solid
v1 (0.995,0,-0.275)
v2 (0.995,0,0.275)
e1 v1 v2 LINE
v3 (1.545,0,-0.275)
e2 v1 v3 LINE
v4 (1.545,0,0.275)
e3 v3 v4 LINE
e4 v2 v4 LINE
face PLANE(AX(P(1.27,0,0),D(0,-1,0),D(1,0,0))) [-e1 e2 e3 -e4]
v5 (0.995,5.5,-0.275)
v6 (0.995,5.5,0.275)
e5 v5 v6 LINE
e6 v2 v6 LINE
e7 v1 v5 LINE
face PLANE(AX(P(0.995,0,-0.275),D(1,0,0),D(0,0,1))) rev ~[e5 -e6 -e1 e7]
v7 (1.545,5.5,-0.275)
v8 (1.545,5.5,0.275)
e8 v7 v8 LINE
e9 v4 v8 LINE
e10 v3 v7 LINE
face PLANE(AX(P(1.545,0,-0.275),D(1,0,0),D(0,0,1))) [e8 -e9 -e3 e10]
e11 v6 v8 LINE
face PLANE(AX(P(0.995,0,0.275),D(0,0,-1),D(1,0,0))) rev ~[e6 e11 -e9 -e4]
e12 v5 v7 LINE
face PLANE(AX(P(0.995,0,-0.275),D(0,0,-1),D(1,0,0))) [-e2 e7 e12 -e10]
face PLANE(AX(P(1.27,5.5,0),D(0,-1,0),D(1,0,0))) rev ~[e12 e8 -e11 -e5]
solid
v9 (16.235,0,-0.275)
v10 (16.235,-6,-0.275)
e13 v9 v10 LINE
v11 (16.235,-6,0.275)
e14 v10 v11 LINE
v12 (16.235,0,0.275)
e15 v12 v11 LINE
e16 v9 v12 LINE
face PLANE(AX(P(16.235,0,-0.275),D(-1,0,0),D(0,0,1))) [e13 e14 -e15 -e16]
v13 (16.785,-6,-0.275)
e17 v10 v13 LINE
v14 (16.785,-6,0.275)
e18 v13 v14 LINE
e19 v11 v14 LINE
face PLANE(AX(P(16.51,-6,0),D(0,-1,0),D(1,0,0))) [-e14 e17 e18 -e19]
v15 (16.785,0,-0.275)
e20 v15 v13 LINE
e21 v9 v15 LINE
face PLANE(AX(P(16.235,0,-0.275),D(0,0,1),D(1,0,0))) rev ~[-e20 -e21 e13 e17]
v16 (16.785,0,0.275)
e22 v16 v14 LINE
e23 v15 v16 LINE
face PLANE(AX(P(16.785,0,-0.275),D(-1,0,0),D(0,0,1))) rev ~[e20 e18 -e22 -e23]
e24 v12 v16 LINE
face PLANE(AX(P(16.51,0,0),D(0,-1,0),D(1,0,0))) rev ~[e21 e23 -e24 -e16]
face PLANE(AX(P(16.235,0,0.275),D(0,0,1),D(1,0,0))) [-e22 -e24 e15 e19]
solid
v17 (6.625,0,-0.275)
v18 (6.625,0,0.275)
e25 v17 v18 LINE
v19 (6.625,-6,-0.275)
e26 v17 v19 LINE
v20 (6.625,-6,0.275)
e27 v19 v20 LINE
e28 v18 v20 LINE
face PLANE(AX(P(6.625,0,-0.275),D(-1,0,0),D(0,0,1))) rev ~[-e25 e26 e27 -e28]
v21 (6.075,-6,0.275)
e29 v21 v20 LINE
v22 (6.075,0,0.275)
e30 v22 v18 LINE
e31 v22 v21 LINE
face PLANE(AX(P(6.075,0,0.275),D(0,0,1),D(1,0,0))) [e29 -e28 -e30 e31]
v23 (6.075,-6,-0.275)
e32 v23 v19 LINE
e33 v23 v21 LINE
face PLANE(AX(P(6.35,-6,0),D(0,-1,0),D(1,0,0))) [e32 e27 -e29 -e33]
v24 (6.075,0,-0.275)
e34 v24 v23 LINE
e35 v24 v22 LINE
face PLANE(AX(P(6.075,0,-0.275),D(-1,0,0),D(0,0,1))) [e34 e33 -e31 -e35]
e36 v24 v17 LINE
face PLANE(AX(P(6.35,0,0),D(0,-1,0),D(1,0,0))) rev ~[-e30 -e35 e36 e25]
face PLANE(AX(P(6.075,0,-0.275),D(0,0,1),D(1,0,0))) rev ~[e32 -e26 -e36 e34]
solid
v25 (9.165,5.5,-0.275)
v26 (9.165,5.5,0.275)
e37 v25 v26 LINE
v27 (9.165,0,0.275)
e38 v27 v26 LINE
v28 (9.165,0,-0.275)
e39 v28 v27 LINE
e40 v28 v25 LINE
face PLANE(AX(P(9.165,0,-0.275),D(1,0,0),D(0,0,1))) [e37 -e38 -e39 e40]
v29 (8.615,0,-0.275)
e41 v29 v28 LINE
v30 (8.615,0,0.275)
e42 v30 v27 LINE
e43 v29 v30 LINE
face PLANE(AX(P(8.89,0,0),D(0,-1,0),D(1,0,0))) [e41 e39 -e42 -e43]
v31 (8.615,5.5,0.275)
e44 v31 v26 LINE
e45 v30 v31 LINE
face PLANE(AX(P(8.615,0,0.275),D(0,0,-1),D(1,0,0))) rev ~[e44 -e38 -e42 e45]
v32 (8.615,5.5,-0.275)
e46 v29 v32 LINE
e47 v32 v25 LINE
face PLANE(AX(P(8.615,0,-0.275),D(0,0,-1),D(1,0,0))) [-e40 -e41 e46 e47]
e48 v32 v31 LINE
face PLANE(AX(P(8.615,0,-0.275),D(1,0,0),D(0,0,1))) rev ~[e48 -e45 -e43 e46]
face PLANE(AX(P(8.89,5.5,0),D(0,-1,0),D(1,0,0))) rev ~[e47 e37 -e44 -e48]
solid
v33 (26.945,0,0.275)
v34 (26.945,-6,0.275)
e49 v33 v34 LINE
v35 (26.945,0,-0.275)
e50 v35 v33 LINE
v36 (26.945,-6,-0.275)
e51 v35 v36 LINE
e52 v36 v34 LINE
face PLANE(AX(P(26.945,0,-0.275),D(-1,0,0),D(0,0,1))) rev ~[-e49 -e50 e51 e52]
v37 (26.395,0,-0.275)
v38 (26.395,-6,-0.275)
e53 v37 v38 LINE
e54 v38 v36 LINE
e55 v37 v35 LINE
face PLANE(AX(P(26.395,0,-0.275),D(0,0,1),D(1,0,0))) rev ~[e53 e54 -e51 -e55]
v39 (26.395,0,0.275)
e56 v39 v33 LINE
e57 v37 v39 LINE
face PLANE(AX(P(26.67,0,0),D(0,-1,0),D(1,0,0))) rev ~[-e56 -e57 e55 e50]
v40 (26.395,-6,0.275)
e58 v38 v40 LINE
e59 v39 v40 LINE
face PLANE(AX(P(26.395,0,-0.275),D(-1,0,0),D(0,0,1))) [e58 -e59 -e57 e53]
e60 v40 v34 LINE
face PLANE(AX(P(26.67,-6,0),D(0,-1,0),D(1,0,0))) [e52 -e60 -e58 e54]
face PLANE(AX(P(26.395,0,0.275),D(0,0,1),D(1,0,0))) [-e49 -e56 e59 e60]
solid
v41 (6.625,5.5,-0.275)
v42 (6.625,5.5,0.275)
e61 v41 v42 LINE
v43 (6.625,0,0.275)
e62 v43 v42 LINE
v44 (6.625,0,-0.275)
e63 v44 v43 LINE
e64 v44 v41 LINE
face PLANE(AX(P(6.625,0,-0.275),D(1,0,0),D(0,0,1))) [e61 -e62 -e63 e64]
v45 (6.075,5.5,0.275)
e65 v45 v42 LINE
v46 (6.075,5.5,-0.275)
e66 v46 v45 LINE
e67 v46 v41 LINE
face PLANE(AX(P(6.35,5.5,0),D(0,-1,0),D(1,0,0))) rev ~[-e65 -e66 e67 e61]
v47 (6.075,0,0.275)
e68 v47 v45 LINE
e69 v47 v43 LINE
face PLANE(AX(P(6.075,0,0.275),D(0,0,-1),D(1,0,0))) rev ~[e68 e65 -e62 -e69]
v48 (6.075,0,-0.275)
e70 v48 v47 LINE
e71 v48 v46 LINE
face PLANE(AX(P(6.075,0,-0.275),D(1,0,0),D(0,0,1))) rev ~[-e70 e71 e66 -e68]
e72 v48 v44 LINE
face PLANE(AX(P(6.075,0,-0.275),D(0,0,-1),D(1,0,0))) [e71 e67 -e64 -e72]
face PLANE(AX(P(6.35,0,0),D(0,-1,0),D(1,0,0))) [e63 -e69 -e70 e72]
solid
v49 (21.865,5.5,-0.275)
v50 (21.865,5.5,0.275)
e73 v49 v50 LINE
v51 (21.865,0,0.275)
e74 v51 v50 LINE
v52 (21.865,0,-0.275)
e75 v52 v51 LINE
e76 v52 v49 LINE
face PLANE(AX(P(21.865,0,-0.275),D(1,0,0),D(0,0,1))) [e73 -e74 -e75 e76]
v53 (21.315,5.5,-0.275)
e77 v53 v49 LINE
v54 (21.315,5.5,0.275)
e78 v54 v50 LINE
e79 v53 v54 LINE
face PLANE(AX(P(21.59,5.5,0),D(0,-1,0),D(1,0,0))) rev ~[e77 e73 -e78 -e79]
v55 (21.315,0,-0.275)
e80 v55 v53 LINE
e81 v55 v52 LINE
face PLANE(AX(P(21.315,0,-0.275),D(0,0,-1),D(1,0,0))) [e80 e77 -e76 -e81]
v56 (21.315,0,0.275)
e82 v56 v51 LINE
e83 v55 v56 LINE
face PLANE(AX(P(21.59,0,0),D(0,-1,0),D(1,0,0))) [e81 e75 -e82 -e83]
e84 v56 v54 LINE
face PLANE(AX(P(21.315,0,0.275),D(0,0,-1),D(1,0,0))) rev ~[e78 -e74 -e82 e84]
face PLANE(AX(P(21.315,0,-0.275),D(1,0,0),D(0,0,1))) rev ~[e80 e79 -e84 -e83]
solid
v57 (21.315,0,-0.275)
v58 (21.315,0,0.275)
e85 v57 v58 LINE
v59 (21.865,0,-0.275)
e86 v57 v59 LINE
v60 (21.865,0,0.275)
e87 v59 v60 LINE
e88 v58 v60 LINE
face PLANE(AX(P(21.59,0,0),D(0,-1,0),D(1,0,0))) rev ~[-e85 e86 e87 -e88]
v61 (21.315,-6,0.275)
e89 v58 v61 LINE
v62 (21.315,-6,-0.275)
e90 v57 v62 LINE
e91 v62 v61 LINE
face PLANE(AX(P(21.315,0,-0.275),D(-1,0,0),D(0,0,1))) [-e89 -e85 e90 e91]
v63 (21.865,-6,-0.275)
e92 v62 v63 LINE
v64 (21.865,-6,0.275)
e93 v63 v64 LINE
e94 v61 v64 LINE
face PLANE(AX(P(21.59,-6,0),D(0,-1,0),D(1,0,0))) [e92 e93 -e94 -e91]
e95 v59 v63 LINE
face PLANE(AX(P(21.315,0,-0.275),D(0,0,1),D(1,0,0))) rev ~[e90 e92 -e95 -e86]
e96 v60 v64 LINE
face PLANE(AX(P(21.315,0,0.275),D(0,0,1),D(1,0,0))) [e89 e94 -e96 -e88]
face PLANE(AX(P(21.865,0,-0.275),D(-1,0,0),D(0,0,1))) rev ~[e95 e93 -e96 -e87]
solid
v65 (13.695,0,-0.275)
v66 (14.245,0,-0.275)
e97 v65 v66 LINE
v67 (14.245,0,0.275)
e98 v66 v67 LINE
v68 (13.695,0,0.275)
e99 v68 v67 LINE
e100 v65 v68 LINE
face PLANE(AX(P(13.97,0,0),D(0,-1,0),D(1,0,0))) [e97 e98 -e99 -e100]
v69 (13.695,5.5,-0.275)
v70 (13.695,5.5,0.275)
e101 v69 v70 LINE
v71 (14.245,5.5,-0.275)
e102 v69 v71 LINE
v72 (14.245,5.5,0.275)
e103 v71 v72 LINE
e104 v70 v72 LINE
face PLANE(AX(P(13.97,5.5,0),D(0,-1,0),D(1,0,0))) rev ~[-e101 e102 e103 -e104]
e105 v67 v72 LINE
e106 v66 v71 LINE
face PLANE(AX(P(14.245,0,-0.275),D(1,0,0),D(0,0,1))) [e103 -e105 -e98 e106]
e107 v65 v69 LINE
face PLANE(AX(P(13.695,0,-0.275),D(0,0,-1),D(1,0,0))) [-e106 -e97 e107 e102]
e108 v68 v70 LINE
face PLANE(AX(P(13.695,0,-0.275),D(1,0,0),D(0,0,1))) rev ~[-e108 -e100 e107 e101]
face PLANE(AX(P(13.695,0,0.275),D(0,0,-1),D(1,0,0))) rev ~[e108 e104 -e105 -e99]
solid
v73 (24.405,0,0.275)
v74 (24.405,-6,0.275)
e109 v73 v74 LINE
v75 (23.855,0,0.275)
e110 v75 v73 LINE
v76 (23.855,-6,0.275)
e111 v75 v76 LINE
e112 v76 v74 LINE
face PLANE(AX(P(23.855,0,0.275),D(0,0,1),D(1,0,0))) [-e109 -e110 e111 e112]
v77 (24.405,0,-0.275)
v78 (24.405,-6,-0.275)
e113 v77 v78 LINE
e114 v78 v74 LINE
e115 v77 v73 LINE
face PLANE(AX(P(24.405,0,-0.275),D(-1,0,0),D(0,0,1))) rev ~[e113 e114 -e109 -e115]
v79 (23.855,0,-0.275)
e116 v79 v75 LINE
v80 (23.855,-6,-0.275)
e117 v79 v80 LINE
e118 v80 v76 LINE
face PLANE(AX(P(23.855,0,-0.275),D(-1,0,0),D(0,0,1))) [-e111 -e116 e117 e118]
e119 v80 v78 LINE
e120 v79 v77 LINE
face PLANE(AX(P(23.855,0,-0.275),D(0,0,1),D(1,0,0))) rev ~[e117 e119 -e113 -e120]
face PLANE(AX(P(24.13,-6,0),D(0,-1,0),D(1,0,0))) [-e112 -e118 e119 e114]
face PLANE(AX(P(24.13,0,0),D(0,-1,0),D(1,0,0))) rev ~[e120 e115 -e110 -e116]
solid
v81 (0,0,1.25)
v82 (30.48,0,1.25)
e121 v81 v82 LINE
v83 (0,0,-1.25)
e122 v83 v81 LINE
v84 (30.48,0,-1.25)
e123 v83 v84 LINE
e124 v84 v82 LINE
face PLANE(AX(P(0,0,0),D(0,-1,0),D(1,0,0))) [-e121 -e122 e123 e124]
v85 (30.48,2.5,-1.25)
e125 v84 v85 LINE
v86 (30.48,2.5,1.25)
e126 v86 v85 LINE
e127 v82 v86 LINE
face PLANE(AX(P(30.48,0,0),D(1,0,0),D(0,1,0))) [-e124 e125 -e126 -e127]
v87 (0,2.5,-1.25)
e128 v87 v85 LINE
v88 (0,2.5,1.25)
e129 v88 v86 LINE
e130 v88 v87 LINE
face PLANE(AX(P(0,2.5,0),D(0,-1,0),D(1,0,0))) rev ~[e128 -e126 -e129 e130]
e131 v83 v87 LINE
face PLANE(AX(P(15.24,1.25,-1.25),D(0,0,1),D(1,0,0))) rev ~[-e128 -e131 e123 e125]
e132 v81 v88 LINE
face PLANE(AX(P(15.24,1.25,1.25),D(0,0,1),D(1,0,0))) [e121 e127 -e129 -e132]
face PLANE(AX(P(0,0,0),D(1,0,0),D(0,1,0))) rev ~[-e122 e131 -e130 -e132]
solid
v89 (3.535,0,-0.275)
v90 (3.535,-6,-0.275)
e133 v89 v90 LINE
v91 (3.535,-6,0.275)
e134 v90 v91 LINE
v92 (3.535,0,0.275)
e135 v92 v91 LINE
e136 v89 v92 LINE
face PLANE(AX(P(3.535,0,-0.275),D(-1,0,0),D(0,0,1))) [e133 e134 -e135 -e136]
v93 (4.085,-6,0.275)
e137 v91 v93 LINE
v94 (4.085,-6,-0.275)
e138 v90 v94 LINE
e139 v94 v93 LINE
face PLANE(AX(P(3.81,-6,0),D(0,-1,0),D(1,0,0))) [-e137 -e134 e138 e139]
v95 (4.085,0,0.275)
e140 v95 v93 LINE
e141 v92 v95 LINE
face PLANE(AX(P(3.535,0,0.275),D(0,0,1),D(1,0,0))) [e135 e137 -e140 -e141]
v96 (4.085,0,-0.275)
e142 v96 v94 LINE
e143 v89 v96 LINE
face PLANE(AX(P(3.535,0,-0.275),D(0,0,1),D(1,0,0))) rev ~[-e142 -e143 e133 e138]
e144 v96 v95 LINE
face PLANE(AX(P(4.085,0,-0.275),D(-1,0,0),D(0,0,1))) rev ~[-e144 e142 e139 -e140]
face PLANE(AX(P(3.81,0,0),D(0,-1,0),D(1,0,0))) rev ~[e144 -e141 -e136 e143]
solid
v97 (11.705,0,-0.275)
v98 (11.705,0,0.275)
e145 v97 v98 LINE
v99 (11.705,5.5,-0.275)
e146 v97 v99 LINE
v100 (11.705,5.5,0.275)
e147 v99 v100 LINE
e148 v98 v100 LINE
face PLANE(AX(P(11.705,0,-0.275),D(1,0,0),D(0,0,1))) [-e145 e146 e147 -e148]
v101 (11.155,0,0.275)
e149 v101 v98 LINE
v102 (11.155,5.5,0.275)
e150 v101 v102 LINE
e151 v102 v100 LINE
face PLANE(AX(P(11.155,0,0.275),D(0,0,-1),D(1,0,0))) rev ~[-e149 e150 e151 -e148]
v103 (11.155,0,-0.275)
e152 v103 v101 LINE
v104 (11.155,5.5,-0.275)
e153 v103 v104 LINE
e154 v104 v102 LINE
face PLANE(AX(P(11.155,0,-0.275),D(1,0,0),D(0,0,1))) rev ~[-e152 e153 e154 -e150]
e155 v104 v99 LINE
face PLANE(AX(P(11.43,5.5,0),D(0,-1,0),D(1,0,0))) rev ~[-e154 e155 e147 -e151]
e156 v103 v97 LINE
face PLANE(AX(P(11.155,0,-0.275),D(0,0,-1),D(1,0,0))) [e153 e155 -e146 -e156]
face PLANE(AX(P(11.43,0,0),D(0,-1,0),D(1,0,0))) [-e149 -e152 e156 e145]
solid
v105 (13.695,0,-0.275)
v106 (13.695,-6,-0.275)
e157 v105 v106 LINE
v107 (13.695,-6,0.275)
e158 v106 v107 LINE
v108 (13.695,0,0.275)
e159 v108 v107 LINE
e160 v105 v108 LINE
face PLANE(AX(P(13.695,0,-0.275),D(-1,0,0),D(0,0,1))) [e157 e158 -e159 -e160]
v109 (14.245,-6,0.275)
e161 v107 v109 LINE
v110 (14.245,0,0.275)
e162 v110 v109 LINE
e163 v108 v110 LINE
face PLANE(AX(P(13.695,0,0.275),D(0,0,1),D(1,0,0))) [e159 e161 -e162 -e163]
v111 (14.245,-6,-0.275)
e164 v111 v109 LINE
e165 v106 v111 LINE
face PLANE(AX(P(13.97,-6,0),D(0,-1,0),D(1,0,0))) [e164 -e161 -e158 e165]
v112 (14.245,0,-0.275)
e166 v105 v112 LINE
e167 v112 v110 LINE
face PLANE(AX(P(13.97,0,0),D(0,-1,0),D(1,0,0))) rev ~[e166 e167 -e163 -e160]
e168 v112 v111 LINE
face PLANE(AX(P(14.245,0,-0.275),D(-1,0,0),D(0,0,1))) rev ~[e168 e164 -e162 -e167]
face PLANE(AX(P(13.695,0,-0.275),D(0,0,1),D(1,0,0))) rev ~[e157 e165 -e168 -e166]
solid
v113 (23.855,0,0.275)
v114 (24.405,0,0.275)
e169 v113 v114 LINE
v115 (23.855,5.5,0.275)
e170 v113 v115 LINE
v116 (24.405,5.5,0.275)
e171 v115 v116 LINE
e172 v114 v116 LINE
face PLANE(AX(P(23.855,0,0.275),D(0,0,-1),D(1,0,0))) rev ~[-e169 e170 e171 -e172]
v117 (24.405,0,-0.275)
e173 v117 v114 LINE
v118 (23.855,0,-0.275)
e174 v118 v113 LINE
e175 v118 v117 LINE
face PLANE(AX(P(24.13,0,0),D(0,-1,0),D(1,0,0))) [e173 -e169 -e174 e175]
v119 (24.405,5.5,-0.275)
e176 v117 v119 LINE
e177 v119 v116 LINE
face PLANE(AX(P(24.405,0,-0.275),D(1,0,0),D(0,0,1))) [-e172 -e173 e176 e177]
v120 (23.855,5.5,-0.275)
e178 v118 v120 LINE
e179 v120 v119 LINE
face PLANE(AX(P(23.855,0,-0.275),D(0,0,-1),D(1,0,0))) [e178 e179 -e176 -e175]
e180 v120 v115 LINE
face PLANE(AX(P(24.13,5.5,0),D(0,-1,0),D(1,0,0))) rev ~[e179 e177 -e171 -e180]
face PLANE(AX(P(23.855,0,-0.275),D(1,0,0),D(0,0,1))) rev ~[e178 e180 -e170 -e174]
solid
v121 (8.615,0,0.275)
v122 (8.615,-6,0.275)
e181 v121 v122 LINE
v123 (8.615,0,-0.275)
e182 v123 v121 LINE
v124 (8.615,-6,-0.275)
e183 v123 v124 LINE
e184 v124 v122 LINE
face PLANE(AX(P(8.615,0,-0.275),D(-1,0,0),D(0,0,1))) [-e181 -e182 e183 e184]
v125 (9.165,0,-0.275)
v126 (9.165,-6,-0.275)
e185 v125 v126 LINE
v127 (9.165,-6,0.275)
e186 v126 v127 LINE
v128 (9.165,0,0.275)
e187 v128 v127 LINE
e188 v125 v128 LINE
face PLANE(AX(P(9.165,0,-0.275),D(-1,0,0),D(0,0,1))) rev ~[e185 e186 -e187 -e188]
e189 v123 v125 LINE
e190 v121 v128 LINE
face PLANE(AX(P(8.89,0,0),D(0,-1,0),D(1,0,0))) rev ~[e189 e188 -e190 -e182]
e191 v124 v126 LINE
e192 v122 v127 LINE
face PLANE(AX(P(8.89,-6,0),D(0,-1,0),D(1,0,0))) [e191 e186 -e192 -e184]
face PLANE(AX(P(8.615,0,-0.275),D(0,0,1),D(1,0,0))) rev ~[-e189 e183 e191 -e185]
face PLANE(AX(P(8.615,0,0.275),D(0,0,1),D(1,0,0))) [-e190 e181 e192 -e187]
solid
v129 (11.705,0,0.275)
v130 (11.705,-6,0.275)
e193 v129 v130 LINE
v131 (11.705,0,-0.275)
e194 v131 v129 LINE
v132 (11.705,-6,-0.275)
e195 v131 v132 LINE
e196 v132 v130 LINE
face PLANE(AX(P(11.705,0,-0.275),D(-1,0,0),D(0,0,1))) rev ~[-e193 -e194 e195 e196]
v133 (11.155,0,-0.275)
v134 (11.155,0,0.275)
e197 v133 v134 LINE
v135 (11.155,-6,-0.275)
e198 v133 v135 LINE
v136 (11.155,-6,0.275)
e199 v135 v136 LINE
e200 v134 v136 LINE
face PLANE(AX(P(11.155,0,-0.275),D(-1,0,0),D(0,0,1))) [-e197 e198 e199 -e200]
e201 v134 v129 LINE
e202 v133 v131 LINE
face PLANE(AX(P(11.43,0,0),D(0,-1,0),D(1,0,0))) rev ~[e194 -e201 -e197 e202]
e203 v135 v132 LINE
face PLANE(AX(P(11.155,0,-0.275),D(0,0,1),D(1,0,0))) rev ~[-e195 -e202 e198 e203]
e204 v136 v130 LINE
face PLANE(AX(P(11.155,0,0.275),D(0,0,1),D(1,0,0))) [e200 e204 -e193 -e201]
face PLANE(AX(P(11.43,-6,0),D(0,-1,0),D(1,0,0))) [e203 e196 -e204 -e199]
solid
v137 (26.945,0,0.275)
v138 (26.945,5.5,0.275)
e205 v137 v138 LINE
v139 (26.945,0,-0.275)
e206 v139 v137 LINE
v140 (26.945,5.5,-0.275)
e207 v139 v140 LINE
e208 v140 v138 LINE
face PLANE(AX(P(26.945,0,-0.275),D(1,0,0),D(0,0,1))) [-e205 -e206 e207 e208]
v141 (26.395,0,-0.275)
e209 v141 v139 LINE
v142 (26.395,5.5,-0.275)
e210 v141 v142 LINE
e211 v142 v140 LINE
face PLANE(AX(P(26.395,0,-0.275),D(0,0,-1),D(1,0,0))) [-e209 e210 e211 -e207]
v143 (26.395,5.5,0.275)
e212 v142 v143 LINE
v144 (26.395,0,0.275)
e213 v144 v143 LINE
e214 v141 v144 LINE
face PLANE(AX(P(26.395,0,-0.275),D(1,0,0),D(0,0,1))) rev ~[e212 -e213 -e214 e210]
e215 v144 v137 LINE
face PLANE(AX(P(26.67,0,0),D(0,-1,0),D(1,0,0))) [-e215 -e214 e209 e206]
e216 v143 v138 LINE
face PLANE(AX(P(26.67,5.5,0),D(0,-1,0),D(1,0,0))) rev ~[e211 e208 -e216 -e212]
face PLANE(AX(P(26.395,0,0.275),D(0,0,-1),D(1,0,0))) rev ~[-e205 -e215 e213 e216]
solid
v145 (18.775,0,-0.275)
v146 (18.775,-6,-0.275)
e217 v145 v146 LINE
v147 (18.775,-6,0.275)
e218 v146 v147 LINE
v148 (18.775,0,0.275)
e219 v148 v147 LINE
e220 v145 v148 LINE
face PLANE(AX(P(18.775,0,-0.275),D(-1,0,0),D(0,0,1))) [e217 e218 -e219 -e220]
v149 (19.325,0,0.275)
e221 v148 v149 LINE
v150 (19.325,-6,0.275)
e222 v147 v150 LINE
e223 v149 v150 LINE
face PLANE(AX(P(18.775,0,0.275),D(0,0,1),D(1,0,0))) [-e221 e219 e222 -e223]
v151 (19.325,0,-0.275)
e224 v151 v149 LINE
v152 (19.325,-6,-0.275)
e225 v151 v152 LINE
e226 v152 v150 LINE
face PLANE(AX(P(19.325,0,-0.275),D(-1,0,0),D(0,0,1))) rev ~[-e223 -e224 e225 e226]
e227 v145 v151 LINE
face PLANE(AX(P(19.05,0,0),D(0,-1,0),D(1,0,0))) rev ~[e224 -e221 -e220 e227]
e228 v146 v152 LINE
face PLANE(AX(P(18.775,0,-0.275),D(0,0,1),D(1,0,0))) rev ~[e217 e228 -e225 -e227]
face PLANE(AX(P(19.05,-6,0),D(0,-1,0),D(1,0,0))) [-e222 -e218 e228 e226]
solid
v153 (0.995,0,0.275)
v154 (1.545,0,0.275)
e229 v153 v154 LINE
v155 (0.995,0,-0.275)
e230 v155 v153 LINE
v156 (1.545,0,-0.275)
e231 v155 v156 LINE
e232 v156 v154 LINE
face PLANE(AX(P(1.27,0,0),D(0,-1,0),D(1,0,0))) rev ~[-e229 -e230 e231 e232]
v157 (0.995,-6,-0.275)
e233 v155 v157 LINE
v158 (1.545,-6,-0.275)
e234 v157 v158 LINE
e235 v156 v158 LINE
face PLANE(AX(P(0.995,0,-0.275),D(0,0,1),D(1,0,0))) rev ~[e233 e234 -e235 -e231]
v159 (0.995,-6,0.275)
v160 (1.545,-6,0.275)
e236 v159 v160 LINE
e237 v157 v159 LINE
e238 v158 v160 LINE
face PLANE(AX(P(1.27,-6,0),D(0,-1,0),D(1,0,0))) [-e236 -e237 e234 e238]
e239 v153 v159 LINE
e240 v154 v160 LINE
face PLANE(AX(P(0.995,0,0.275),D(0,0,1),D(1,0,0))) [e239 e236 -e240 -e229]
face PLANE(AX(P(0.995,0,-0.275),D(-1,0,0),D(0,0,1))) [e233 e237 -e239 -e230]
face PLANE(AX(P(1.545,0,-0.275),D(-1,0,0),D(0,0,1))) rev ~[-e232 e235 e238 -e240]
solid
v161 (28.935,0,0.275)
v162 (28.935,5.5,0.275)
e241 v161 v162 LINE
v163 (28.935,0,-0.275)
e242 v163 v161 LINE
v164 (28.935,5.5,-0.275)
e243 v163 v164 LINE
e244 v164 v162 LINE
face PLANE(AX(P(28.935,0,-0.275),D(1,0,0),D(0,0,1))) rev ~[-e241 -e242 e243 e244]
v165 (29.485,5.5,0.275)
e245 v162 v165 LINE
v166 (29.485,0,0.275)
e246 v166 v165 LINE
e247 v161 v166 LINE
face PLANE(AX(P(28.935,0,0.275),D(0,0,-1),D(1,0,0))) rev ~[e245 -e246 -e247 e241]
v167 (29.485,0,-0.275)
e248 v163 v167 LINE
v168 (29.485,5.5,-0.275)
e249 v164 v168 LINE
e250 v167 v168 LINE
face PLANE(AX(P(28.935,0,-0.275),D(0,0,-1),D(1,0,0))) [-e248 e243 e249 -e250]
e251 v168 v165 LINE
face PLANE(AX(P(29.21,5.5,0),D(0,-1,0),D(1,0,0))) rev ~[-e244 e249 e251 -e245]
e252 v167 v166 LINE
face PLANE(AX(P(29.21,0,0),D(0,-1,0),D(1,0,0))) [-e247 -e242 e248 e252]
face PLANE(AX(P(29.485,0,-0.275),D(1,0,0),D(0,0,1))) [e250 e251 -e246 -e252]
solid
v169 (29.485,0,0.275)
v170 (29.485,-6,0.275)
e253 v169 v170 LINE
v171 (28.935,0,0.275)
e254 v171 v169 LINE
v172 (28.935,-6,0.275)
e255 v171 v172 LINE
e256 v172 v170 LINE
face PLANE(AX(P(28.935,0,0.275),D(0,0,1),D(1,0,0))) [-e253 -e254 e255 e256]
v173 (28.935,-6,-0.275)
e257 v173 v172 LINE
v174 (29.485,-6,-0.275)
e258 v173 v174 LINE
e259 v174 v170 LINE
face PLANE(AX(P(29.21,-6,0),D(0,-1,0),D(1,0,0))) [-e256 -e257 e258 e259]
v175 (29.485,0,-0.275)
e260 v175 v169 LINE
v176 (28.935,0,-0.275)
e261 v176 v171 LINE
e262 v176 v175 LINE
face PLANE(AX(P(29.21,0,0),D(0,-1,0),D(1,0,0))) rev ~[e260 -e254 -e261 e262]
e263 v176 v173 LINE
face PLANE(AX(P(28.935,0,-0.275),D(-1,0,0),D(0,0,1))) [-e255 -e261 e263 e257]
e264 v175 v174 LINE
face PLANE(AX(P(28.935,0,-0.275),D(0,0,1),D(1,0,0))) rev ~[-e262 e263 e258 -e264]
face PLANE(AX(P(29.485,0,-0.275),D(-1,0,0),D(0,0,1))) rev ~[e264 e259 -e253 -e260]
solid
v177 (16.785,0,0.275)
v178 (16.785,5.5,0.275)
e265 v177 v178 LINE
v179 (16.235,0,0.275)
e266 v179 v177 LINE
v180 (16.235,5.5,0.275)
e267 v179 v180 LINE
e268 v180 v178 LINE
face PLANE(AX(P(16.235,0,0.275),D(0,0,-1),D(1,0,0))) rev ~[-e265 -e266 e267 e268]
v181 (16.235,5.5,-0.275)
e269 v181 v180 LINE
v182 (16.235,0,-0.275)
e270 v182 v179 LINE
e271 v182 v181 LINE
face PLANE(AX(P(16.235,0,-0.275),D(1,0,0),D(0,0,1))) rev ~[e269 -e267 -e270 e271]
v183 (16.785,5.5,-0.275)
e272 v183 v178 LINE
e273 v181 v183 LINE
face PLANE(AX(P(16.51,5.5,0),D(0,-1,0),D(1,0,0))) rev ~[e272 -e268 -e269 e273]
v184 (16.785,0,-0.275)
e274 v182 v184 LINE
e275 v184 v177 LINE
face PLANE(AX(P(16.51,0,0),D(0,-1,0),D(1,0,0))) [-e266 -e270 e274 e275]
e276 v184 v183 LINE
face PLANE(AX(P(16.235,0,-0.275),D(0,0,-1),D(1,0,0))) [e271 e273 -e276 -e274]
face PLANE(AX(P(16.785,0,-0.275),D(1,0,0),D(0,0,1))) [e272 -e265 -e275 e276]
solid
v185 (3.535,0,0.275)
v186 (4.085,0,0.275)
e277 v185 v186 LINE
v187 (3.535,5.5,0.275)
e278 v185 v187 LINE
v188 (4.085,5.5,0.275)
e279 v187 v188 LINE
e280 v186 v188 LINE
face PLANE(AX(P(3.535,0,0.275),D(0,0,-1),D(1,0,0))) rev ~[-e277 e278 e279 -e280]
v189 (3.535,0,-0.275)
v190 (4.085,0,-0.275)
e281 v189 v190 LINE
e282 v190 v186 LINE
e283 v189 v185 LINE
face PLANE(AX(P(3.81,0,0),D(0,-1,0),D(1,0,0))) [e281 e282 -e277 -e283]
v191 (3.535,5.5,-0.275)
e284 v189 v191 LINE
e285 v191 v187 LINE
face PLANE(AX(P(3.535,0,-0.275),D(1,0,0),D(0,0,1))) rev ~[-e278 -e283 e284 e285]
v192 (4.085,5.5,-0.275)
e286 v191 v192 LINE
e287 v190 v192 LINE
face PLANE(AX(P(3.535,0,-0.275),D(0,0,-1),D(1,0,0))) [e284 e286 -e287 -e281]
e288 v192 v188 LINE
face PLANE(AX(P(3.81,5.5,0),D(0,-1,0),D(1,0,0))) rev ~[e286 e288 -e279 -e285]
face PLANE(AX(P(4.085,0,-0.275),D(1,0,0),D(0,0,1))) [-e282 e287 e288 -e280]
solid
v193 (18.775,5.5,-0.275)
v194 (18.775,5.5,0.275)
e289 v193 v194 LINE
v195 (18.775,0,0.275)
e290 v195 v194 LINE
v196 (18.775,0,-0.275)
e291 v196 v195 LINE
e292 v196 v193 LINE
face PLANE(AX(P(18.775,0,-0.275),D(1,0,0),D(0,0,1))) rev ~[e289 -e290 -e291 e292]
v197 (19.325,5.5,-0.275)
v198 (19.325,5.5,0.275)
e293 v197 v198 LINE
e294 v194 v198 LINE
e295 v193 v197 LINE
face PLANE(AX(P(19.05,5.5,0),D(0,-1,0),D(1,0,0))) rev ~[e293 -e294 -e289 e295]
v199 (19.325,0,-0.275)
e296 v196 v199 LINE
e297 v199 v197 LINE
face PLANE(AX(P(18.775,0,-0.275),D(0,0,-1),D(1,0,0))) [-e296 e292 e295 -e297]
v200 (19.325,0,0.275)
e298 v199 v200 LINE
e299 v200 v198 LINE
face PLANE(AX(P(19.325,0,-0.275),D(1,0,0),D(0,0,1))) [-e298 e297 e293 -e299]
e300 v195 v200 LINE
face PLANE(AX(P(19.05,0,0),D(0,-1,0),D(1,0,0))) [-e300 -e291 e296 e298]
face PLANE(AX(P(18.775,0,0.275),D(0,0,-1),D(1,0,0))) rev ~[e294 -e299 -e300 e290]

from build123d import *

# Parameters (mm, degrees)
SKETCH1_W              = 30.48
SKETCH1_H              = 2.5
BOSS_EXTRUDE1_DEPTH    = 1.25
SKETCH2_W              = 0.55
SKETCH2_H              = 0.55
BOSS_EXTRUDE2_DEPTH    = 6
BOSS_EXTRUDE2_2_DEPTH  = 6
BOSS_EXTRUDE2_3_DEPTH  = 6
BOSS_EXTRUDE2_4_DEPTH  = 6
BOSS_EXTRUDE2_5_DEPTH  = 6
BOSS_EXTRUDE2_6_DEPTH  = 6
BOSS_EXTRUDE2_7_DEPTH  = 6
BOSS_EXTRUDE2_8_DEPTH  = 6
BOSS_EXTRUDE2_9_DEPTH  = 6
BOSS_EXTRUDE2_10_DEPTH = 6
BOSS_EXTRUDE2_11_DEPTH = 6
BOSS_EXTRUDE2_12_DEPTH = 6
SKETCH2_2_W            = 0.55
SKETCH2_2_H            = 0.55
BOSS_EXTRUDE3_DEPTH    = 5.5
BOSS_EXTRUDE3_2_DEPTH  = 5.5
BOSS_EXTRUDE3_3_DEPTH  = 5.5
BOSS_EXTRUDE3_4_DEPTH  = 5.5
BOSS_EXTRUDE3_5_DEPTH  = 5.5
BOSS_EXTRUDE3_6_DEPTH  = 5.5
BOSS_EXTRUDE3_7_DEPTH  = 5.5
BOSS_EXTRUDE3_8_DEPTH  = 5.5
BOSS_EXTRUDE3_9_DEPTH  = 5.5
BOSS_EXTRUDE3_10_DEPTH = 5.5
BOSS_EXTRUDE3_11_DEPTH = 5.5
BOSS_EXTRUDE3_12_DEPTH = 5.5


with BuildPart() as part:
    # Sketch1 → Boss-Extrude1 (new body, symmetric)
    with BuildSketch(Plane.XY):
        with Locations((15.24, 1.25)):
            Rectangle(SKETCH1_W, SKETCH1_H)
    extrude(amount=BOSS_EXTRUDE1_DEPTH, both=True)


with BuildPart() as body_2:
    # Sketch2 → Boss-Extrude2 (new body)
    with BuildSketch(Plane.XZ):
        with Locations((3.81, 0)):
            Rectangle(SKETCH2_W, SKETCH2_H)
    extrude(amount=BOSS_EXTRUDE2_DEPTH)


with BuildPart() as body_3:
    # Sketch2 → Boss-Extrude2 2 (new body)
    with BuildSketch(Plane.XZ):
        with Locations((1.27, 0)):
            Rectangle(SKETCH2_W, SKETCH2_H)
    extrude(amount=BOSS_EXTRUDE2_2_DEPTH)


with BuildPart() as body_4:
    # Sketch2 → Boss-Extrude2 3 (new body)
    with BuildSketch(Plane.XZ):
        with Locations((6.35, 0)):
            Rectangle(SKETCH2_W, SKETCH2_H)
    extrude(amount=BOSS_EXTRUDE2_3_DEPTH)


with BuildPart() as body_5:
    # Sketch2 → Boss-Extrude2 4 (new body)
    with BuildSketch(Plane.XZ):
        with Locations((8.89, 0)):
            Rectangle(SKETCH2_W, SKETCH2_H)
    extrude(amount=BOSS_EXTRUDE2_4_DEPTH)


with BuildPart() as body_6:
    # Sketch2 → Boss-Extrude2 5 (new body)
    with BuildSketch(Plane.XZ):
        with Locations((11.43, 0)):
            Rectangle(SKETCH2_W, SKETCH2_H)
    extrude(amount=BOSS_EXTRUDE2_5_DEPTH)


with BuildPart() as body_7:
    # Sketch2 → Boss-Extrude2 6 (new body)
    with BuildSketch(Plane.XZ):
        with Locations((13.97, 0)):
            Rectangle(SKETCH2_W, SKETCH2_H)
    extrude(amount=BOSS_EXTRUDE2_6_DEPTH)


with BuildPart() as body_8:
    # Sketch2 → Boss-Extrude2 7 (new body)
    with BuildSketch(Plane.XZ):
        with Locations((16.51, 0)):
            Rectangle(SKETCH2_W, SKETCH2_H)
    extrude(amount=BOSS_EXTRUDE2_7_DEPTH)


with BuildPart() as body_9:
    # Sketch2 → Boss-Extrude2 8 (new body)
    with BuildSketch(Plane.XZ):
        with Locations((19.05, 0)):
            Rectangle(SKETCH2_W, SKETCH2_H)
    extrude(amount=BOSS_EXTRUDE2_8_DEPTH)


with BuildPart() as body_10:
    # Sketch2 → Boss-Extrude2 9 (new body)
    with BuildSketch(Plane.XZ):
        with Locations((21.59, 0)):
            Rectangle(SKETCH2_W, SKETCH2_H)
    extrude(amount=BOSS_EXTRUDE2_9_DEPTH)


with BuildPart() as body_11:
    # Sketch2 → Boss-Extrude2 10 (new body)
    with BuildSketch(Plane.XZ):
        with Locations((24.13, 0)):
            Rectangle(SKETCH2_W, SKETCH2_H)
    extrude(amount=BOSS_EXTRUDE2_10_DEPTH)


with BuildPart() as body_12:
    # Sketch2 → Boss-Extrude2 11 (new body)
    with BuildSketch(Plane.XZ):
        with Locations((26.67, 0)):
            Rectangle(SKETCH2_W, SKETCH2_H)
    extrude(amount=BOSS_EXTRUDE2_11_DEPTH)


with BuildPart() as body_13:
    # Sketch2 → Boss-Extrude2 12 (new body)
    with BuildSketch(Plane.XZ):
        with Locations((29.21, 0)):
            Rectangle(SKETCH2_W, SKETCH2_H)
    extrude(amount=BOSS_EXTRUDE2_12_DEPTH)


with BuildPart() as body_14:
    # Sketch2_2 → Boss-Extrude3 (new body)
    with BuildSketch(Plane.XZ):
        with Locations((3.81, 0)):
            Rectangle(SKETCH2_2_W, SKETCH2_2_H)
    extrude(amount=-BOSS_EXTRUDE3_DEPTH)


with BuildPart() as body_15:
    # Sketch2_2 → Boss-Extrude3 2 (new body)
    with BuildSketch(Plane.XZ):
        with Locations((1.27, 0)):
            Rectangle(SKETCH2_2_W, SKETCH2_2_H)
    extrude(amount=-BOSS_EXTRUDE3_2_DEPTH)


with BuildPart() as body_16:
    # Sketch2_2 → Boss-Extrude3 3 (new body)
    with BuildSketch(Plane.XZ):
        with Locations((6.35, 0)):
            Rectangle(SKETCH2_2_W, SKETCH2_2_H)
    extrude(amount=-BOSS_EXTRUDE3_3_DEPTH)


with BuildPart() as body_17:
    # Sketch2_2 → Boss-Extrude3 4 (new body)
    with BuildSketch(Plane.XZ):
        with Locations((8.89, 0)):
            Rectangle(SKETCH2_2_W, SKETCH2_2_H)
    extrude(amount=-BOSS_EXTRUDE3_4_DEPTH)


with BuildPart() as body_18:
    # Sketch2_2 → Boss-Extrude3 5 (new body)
    with BuildSketch(Plane.XZ):
        with Locations((11.43, 0)):
            Rectangle(SKETCH2_2_W, SKETCH2_2_H)
    extrude(amount=-BOSS_EXTRUDE3_5_DEPTH)


with BuildPart() as body_19:
    # Sketch2_2 → Boss-Extrude3 6 (new body)
    with BuildSketch(Plane.XZ):
        with Locations((13.97, 0)):
            Rectangle(SKETCH2_2_W, SKETCH2_2_H)
    extrude(amount=-BOSS_EXTRUDE3_6_DEPTH)


with BuildPart() as body_20:
    # Sketch2_2 → Boss-Extrude3 7 (new body)
    with BuildSketch(Plane.XZ):
        with Locations((16.51, 0)):
            Rectangle(SKETCH2_2_W, SKETCH2_2_H)
    extrude(amount=-BOSS_EXTRUDE3_7_DEPTH)


with BuildPart() as body_21:
    # Sketch2_2 → Boss-Extrude3 8 (new body)
    with BuildSketch(Plane.XZ):
        with Locations((19.05, 0)):
            Rectangle(SKETCH2_2_W, SKETCH2_2_H)
    extrude(amount=-BOSS_EXTRUDE3_8_DEPTH)


with BuildPart() as body_22:
    # Sketch2_2 → Boss-Extrude3 9 (new body)
    with BuildSketch(Plane.XZ):
        with Locations((21.59, 0)):
            Rectangle(SKETCH2_2_W, SKETCH2_2_H)
    extrude(amount=-BOSS_EXTRUDE3_9_DEPTH)


with BuildPart() as body_23:
    # Sketch2_2 → Boss-Extrude3 10 (new body)
    with BuildSketch(Plane.XZ):
        with Locations((24.13, 0)):
            Rectangle(SKETCH2_2_W, SKETCH2_2_H)
    extrude(amount=-BOSS_EXTRUDE3_10_DEPTH)


with BuildPart() as body_24:
    # Sketch2_2 → Boss-Extrude3 11 (new body)
    with BuildSketch(Plane.XZ):
        with Locations((26.67, 0)):
            Rectangle(SKETCH2_2_W, SKETCH2_2_H)
    extrude(amount=-BOSS_EXTRUDE3_11_DEPTH)


with BuildPart() as body_25:
    # Sketch2_2 → Boss-Extrude3 12 (new body)
    with BuildSketch(Plane.XZ):
        with Locations((29.21, 0)):
            Rectangle(SKETCH2_2_W, SKETCH2_2_H)
    extrude(amount=-BOSS_EXTRUDE3_12_DEPTH)


solid = Compound([part.part, body_2.part, body_3.part, body_4.part, body_5.part, body_6.part, body_7.part, body_8.part, body_9.part, body_10.part, body_11.part, body_12.part, body_13.part, body_14.part, body_15.part, body_16.part, body_17.part, body_18.part, body_19.part, body_20.part, body_21.part, body_22.part, body_23.part, body_24.part, body_25.part])
